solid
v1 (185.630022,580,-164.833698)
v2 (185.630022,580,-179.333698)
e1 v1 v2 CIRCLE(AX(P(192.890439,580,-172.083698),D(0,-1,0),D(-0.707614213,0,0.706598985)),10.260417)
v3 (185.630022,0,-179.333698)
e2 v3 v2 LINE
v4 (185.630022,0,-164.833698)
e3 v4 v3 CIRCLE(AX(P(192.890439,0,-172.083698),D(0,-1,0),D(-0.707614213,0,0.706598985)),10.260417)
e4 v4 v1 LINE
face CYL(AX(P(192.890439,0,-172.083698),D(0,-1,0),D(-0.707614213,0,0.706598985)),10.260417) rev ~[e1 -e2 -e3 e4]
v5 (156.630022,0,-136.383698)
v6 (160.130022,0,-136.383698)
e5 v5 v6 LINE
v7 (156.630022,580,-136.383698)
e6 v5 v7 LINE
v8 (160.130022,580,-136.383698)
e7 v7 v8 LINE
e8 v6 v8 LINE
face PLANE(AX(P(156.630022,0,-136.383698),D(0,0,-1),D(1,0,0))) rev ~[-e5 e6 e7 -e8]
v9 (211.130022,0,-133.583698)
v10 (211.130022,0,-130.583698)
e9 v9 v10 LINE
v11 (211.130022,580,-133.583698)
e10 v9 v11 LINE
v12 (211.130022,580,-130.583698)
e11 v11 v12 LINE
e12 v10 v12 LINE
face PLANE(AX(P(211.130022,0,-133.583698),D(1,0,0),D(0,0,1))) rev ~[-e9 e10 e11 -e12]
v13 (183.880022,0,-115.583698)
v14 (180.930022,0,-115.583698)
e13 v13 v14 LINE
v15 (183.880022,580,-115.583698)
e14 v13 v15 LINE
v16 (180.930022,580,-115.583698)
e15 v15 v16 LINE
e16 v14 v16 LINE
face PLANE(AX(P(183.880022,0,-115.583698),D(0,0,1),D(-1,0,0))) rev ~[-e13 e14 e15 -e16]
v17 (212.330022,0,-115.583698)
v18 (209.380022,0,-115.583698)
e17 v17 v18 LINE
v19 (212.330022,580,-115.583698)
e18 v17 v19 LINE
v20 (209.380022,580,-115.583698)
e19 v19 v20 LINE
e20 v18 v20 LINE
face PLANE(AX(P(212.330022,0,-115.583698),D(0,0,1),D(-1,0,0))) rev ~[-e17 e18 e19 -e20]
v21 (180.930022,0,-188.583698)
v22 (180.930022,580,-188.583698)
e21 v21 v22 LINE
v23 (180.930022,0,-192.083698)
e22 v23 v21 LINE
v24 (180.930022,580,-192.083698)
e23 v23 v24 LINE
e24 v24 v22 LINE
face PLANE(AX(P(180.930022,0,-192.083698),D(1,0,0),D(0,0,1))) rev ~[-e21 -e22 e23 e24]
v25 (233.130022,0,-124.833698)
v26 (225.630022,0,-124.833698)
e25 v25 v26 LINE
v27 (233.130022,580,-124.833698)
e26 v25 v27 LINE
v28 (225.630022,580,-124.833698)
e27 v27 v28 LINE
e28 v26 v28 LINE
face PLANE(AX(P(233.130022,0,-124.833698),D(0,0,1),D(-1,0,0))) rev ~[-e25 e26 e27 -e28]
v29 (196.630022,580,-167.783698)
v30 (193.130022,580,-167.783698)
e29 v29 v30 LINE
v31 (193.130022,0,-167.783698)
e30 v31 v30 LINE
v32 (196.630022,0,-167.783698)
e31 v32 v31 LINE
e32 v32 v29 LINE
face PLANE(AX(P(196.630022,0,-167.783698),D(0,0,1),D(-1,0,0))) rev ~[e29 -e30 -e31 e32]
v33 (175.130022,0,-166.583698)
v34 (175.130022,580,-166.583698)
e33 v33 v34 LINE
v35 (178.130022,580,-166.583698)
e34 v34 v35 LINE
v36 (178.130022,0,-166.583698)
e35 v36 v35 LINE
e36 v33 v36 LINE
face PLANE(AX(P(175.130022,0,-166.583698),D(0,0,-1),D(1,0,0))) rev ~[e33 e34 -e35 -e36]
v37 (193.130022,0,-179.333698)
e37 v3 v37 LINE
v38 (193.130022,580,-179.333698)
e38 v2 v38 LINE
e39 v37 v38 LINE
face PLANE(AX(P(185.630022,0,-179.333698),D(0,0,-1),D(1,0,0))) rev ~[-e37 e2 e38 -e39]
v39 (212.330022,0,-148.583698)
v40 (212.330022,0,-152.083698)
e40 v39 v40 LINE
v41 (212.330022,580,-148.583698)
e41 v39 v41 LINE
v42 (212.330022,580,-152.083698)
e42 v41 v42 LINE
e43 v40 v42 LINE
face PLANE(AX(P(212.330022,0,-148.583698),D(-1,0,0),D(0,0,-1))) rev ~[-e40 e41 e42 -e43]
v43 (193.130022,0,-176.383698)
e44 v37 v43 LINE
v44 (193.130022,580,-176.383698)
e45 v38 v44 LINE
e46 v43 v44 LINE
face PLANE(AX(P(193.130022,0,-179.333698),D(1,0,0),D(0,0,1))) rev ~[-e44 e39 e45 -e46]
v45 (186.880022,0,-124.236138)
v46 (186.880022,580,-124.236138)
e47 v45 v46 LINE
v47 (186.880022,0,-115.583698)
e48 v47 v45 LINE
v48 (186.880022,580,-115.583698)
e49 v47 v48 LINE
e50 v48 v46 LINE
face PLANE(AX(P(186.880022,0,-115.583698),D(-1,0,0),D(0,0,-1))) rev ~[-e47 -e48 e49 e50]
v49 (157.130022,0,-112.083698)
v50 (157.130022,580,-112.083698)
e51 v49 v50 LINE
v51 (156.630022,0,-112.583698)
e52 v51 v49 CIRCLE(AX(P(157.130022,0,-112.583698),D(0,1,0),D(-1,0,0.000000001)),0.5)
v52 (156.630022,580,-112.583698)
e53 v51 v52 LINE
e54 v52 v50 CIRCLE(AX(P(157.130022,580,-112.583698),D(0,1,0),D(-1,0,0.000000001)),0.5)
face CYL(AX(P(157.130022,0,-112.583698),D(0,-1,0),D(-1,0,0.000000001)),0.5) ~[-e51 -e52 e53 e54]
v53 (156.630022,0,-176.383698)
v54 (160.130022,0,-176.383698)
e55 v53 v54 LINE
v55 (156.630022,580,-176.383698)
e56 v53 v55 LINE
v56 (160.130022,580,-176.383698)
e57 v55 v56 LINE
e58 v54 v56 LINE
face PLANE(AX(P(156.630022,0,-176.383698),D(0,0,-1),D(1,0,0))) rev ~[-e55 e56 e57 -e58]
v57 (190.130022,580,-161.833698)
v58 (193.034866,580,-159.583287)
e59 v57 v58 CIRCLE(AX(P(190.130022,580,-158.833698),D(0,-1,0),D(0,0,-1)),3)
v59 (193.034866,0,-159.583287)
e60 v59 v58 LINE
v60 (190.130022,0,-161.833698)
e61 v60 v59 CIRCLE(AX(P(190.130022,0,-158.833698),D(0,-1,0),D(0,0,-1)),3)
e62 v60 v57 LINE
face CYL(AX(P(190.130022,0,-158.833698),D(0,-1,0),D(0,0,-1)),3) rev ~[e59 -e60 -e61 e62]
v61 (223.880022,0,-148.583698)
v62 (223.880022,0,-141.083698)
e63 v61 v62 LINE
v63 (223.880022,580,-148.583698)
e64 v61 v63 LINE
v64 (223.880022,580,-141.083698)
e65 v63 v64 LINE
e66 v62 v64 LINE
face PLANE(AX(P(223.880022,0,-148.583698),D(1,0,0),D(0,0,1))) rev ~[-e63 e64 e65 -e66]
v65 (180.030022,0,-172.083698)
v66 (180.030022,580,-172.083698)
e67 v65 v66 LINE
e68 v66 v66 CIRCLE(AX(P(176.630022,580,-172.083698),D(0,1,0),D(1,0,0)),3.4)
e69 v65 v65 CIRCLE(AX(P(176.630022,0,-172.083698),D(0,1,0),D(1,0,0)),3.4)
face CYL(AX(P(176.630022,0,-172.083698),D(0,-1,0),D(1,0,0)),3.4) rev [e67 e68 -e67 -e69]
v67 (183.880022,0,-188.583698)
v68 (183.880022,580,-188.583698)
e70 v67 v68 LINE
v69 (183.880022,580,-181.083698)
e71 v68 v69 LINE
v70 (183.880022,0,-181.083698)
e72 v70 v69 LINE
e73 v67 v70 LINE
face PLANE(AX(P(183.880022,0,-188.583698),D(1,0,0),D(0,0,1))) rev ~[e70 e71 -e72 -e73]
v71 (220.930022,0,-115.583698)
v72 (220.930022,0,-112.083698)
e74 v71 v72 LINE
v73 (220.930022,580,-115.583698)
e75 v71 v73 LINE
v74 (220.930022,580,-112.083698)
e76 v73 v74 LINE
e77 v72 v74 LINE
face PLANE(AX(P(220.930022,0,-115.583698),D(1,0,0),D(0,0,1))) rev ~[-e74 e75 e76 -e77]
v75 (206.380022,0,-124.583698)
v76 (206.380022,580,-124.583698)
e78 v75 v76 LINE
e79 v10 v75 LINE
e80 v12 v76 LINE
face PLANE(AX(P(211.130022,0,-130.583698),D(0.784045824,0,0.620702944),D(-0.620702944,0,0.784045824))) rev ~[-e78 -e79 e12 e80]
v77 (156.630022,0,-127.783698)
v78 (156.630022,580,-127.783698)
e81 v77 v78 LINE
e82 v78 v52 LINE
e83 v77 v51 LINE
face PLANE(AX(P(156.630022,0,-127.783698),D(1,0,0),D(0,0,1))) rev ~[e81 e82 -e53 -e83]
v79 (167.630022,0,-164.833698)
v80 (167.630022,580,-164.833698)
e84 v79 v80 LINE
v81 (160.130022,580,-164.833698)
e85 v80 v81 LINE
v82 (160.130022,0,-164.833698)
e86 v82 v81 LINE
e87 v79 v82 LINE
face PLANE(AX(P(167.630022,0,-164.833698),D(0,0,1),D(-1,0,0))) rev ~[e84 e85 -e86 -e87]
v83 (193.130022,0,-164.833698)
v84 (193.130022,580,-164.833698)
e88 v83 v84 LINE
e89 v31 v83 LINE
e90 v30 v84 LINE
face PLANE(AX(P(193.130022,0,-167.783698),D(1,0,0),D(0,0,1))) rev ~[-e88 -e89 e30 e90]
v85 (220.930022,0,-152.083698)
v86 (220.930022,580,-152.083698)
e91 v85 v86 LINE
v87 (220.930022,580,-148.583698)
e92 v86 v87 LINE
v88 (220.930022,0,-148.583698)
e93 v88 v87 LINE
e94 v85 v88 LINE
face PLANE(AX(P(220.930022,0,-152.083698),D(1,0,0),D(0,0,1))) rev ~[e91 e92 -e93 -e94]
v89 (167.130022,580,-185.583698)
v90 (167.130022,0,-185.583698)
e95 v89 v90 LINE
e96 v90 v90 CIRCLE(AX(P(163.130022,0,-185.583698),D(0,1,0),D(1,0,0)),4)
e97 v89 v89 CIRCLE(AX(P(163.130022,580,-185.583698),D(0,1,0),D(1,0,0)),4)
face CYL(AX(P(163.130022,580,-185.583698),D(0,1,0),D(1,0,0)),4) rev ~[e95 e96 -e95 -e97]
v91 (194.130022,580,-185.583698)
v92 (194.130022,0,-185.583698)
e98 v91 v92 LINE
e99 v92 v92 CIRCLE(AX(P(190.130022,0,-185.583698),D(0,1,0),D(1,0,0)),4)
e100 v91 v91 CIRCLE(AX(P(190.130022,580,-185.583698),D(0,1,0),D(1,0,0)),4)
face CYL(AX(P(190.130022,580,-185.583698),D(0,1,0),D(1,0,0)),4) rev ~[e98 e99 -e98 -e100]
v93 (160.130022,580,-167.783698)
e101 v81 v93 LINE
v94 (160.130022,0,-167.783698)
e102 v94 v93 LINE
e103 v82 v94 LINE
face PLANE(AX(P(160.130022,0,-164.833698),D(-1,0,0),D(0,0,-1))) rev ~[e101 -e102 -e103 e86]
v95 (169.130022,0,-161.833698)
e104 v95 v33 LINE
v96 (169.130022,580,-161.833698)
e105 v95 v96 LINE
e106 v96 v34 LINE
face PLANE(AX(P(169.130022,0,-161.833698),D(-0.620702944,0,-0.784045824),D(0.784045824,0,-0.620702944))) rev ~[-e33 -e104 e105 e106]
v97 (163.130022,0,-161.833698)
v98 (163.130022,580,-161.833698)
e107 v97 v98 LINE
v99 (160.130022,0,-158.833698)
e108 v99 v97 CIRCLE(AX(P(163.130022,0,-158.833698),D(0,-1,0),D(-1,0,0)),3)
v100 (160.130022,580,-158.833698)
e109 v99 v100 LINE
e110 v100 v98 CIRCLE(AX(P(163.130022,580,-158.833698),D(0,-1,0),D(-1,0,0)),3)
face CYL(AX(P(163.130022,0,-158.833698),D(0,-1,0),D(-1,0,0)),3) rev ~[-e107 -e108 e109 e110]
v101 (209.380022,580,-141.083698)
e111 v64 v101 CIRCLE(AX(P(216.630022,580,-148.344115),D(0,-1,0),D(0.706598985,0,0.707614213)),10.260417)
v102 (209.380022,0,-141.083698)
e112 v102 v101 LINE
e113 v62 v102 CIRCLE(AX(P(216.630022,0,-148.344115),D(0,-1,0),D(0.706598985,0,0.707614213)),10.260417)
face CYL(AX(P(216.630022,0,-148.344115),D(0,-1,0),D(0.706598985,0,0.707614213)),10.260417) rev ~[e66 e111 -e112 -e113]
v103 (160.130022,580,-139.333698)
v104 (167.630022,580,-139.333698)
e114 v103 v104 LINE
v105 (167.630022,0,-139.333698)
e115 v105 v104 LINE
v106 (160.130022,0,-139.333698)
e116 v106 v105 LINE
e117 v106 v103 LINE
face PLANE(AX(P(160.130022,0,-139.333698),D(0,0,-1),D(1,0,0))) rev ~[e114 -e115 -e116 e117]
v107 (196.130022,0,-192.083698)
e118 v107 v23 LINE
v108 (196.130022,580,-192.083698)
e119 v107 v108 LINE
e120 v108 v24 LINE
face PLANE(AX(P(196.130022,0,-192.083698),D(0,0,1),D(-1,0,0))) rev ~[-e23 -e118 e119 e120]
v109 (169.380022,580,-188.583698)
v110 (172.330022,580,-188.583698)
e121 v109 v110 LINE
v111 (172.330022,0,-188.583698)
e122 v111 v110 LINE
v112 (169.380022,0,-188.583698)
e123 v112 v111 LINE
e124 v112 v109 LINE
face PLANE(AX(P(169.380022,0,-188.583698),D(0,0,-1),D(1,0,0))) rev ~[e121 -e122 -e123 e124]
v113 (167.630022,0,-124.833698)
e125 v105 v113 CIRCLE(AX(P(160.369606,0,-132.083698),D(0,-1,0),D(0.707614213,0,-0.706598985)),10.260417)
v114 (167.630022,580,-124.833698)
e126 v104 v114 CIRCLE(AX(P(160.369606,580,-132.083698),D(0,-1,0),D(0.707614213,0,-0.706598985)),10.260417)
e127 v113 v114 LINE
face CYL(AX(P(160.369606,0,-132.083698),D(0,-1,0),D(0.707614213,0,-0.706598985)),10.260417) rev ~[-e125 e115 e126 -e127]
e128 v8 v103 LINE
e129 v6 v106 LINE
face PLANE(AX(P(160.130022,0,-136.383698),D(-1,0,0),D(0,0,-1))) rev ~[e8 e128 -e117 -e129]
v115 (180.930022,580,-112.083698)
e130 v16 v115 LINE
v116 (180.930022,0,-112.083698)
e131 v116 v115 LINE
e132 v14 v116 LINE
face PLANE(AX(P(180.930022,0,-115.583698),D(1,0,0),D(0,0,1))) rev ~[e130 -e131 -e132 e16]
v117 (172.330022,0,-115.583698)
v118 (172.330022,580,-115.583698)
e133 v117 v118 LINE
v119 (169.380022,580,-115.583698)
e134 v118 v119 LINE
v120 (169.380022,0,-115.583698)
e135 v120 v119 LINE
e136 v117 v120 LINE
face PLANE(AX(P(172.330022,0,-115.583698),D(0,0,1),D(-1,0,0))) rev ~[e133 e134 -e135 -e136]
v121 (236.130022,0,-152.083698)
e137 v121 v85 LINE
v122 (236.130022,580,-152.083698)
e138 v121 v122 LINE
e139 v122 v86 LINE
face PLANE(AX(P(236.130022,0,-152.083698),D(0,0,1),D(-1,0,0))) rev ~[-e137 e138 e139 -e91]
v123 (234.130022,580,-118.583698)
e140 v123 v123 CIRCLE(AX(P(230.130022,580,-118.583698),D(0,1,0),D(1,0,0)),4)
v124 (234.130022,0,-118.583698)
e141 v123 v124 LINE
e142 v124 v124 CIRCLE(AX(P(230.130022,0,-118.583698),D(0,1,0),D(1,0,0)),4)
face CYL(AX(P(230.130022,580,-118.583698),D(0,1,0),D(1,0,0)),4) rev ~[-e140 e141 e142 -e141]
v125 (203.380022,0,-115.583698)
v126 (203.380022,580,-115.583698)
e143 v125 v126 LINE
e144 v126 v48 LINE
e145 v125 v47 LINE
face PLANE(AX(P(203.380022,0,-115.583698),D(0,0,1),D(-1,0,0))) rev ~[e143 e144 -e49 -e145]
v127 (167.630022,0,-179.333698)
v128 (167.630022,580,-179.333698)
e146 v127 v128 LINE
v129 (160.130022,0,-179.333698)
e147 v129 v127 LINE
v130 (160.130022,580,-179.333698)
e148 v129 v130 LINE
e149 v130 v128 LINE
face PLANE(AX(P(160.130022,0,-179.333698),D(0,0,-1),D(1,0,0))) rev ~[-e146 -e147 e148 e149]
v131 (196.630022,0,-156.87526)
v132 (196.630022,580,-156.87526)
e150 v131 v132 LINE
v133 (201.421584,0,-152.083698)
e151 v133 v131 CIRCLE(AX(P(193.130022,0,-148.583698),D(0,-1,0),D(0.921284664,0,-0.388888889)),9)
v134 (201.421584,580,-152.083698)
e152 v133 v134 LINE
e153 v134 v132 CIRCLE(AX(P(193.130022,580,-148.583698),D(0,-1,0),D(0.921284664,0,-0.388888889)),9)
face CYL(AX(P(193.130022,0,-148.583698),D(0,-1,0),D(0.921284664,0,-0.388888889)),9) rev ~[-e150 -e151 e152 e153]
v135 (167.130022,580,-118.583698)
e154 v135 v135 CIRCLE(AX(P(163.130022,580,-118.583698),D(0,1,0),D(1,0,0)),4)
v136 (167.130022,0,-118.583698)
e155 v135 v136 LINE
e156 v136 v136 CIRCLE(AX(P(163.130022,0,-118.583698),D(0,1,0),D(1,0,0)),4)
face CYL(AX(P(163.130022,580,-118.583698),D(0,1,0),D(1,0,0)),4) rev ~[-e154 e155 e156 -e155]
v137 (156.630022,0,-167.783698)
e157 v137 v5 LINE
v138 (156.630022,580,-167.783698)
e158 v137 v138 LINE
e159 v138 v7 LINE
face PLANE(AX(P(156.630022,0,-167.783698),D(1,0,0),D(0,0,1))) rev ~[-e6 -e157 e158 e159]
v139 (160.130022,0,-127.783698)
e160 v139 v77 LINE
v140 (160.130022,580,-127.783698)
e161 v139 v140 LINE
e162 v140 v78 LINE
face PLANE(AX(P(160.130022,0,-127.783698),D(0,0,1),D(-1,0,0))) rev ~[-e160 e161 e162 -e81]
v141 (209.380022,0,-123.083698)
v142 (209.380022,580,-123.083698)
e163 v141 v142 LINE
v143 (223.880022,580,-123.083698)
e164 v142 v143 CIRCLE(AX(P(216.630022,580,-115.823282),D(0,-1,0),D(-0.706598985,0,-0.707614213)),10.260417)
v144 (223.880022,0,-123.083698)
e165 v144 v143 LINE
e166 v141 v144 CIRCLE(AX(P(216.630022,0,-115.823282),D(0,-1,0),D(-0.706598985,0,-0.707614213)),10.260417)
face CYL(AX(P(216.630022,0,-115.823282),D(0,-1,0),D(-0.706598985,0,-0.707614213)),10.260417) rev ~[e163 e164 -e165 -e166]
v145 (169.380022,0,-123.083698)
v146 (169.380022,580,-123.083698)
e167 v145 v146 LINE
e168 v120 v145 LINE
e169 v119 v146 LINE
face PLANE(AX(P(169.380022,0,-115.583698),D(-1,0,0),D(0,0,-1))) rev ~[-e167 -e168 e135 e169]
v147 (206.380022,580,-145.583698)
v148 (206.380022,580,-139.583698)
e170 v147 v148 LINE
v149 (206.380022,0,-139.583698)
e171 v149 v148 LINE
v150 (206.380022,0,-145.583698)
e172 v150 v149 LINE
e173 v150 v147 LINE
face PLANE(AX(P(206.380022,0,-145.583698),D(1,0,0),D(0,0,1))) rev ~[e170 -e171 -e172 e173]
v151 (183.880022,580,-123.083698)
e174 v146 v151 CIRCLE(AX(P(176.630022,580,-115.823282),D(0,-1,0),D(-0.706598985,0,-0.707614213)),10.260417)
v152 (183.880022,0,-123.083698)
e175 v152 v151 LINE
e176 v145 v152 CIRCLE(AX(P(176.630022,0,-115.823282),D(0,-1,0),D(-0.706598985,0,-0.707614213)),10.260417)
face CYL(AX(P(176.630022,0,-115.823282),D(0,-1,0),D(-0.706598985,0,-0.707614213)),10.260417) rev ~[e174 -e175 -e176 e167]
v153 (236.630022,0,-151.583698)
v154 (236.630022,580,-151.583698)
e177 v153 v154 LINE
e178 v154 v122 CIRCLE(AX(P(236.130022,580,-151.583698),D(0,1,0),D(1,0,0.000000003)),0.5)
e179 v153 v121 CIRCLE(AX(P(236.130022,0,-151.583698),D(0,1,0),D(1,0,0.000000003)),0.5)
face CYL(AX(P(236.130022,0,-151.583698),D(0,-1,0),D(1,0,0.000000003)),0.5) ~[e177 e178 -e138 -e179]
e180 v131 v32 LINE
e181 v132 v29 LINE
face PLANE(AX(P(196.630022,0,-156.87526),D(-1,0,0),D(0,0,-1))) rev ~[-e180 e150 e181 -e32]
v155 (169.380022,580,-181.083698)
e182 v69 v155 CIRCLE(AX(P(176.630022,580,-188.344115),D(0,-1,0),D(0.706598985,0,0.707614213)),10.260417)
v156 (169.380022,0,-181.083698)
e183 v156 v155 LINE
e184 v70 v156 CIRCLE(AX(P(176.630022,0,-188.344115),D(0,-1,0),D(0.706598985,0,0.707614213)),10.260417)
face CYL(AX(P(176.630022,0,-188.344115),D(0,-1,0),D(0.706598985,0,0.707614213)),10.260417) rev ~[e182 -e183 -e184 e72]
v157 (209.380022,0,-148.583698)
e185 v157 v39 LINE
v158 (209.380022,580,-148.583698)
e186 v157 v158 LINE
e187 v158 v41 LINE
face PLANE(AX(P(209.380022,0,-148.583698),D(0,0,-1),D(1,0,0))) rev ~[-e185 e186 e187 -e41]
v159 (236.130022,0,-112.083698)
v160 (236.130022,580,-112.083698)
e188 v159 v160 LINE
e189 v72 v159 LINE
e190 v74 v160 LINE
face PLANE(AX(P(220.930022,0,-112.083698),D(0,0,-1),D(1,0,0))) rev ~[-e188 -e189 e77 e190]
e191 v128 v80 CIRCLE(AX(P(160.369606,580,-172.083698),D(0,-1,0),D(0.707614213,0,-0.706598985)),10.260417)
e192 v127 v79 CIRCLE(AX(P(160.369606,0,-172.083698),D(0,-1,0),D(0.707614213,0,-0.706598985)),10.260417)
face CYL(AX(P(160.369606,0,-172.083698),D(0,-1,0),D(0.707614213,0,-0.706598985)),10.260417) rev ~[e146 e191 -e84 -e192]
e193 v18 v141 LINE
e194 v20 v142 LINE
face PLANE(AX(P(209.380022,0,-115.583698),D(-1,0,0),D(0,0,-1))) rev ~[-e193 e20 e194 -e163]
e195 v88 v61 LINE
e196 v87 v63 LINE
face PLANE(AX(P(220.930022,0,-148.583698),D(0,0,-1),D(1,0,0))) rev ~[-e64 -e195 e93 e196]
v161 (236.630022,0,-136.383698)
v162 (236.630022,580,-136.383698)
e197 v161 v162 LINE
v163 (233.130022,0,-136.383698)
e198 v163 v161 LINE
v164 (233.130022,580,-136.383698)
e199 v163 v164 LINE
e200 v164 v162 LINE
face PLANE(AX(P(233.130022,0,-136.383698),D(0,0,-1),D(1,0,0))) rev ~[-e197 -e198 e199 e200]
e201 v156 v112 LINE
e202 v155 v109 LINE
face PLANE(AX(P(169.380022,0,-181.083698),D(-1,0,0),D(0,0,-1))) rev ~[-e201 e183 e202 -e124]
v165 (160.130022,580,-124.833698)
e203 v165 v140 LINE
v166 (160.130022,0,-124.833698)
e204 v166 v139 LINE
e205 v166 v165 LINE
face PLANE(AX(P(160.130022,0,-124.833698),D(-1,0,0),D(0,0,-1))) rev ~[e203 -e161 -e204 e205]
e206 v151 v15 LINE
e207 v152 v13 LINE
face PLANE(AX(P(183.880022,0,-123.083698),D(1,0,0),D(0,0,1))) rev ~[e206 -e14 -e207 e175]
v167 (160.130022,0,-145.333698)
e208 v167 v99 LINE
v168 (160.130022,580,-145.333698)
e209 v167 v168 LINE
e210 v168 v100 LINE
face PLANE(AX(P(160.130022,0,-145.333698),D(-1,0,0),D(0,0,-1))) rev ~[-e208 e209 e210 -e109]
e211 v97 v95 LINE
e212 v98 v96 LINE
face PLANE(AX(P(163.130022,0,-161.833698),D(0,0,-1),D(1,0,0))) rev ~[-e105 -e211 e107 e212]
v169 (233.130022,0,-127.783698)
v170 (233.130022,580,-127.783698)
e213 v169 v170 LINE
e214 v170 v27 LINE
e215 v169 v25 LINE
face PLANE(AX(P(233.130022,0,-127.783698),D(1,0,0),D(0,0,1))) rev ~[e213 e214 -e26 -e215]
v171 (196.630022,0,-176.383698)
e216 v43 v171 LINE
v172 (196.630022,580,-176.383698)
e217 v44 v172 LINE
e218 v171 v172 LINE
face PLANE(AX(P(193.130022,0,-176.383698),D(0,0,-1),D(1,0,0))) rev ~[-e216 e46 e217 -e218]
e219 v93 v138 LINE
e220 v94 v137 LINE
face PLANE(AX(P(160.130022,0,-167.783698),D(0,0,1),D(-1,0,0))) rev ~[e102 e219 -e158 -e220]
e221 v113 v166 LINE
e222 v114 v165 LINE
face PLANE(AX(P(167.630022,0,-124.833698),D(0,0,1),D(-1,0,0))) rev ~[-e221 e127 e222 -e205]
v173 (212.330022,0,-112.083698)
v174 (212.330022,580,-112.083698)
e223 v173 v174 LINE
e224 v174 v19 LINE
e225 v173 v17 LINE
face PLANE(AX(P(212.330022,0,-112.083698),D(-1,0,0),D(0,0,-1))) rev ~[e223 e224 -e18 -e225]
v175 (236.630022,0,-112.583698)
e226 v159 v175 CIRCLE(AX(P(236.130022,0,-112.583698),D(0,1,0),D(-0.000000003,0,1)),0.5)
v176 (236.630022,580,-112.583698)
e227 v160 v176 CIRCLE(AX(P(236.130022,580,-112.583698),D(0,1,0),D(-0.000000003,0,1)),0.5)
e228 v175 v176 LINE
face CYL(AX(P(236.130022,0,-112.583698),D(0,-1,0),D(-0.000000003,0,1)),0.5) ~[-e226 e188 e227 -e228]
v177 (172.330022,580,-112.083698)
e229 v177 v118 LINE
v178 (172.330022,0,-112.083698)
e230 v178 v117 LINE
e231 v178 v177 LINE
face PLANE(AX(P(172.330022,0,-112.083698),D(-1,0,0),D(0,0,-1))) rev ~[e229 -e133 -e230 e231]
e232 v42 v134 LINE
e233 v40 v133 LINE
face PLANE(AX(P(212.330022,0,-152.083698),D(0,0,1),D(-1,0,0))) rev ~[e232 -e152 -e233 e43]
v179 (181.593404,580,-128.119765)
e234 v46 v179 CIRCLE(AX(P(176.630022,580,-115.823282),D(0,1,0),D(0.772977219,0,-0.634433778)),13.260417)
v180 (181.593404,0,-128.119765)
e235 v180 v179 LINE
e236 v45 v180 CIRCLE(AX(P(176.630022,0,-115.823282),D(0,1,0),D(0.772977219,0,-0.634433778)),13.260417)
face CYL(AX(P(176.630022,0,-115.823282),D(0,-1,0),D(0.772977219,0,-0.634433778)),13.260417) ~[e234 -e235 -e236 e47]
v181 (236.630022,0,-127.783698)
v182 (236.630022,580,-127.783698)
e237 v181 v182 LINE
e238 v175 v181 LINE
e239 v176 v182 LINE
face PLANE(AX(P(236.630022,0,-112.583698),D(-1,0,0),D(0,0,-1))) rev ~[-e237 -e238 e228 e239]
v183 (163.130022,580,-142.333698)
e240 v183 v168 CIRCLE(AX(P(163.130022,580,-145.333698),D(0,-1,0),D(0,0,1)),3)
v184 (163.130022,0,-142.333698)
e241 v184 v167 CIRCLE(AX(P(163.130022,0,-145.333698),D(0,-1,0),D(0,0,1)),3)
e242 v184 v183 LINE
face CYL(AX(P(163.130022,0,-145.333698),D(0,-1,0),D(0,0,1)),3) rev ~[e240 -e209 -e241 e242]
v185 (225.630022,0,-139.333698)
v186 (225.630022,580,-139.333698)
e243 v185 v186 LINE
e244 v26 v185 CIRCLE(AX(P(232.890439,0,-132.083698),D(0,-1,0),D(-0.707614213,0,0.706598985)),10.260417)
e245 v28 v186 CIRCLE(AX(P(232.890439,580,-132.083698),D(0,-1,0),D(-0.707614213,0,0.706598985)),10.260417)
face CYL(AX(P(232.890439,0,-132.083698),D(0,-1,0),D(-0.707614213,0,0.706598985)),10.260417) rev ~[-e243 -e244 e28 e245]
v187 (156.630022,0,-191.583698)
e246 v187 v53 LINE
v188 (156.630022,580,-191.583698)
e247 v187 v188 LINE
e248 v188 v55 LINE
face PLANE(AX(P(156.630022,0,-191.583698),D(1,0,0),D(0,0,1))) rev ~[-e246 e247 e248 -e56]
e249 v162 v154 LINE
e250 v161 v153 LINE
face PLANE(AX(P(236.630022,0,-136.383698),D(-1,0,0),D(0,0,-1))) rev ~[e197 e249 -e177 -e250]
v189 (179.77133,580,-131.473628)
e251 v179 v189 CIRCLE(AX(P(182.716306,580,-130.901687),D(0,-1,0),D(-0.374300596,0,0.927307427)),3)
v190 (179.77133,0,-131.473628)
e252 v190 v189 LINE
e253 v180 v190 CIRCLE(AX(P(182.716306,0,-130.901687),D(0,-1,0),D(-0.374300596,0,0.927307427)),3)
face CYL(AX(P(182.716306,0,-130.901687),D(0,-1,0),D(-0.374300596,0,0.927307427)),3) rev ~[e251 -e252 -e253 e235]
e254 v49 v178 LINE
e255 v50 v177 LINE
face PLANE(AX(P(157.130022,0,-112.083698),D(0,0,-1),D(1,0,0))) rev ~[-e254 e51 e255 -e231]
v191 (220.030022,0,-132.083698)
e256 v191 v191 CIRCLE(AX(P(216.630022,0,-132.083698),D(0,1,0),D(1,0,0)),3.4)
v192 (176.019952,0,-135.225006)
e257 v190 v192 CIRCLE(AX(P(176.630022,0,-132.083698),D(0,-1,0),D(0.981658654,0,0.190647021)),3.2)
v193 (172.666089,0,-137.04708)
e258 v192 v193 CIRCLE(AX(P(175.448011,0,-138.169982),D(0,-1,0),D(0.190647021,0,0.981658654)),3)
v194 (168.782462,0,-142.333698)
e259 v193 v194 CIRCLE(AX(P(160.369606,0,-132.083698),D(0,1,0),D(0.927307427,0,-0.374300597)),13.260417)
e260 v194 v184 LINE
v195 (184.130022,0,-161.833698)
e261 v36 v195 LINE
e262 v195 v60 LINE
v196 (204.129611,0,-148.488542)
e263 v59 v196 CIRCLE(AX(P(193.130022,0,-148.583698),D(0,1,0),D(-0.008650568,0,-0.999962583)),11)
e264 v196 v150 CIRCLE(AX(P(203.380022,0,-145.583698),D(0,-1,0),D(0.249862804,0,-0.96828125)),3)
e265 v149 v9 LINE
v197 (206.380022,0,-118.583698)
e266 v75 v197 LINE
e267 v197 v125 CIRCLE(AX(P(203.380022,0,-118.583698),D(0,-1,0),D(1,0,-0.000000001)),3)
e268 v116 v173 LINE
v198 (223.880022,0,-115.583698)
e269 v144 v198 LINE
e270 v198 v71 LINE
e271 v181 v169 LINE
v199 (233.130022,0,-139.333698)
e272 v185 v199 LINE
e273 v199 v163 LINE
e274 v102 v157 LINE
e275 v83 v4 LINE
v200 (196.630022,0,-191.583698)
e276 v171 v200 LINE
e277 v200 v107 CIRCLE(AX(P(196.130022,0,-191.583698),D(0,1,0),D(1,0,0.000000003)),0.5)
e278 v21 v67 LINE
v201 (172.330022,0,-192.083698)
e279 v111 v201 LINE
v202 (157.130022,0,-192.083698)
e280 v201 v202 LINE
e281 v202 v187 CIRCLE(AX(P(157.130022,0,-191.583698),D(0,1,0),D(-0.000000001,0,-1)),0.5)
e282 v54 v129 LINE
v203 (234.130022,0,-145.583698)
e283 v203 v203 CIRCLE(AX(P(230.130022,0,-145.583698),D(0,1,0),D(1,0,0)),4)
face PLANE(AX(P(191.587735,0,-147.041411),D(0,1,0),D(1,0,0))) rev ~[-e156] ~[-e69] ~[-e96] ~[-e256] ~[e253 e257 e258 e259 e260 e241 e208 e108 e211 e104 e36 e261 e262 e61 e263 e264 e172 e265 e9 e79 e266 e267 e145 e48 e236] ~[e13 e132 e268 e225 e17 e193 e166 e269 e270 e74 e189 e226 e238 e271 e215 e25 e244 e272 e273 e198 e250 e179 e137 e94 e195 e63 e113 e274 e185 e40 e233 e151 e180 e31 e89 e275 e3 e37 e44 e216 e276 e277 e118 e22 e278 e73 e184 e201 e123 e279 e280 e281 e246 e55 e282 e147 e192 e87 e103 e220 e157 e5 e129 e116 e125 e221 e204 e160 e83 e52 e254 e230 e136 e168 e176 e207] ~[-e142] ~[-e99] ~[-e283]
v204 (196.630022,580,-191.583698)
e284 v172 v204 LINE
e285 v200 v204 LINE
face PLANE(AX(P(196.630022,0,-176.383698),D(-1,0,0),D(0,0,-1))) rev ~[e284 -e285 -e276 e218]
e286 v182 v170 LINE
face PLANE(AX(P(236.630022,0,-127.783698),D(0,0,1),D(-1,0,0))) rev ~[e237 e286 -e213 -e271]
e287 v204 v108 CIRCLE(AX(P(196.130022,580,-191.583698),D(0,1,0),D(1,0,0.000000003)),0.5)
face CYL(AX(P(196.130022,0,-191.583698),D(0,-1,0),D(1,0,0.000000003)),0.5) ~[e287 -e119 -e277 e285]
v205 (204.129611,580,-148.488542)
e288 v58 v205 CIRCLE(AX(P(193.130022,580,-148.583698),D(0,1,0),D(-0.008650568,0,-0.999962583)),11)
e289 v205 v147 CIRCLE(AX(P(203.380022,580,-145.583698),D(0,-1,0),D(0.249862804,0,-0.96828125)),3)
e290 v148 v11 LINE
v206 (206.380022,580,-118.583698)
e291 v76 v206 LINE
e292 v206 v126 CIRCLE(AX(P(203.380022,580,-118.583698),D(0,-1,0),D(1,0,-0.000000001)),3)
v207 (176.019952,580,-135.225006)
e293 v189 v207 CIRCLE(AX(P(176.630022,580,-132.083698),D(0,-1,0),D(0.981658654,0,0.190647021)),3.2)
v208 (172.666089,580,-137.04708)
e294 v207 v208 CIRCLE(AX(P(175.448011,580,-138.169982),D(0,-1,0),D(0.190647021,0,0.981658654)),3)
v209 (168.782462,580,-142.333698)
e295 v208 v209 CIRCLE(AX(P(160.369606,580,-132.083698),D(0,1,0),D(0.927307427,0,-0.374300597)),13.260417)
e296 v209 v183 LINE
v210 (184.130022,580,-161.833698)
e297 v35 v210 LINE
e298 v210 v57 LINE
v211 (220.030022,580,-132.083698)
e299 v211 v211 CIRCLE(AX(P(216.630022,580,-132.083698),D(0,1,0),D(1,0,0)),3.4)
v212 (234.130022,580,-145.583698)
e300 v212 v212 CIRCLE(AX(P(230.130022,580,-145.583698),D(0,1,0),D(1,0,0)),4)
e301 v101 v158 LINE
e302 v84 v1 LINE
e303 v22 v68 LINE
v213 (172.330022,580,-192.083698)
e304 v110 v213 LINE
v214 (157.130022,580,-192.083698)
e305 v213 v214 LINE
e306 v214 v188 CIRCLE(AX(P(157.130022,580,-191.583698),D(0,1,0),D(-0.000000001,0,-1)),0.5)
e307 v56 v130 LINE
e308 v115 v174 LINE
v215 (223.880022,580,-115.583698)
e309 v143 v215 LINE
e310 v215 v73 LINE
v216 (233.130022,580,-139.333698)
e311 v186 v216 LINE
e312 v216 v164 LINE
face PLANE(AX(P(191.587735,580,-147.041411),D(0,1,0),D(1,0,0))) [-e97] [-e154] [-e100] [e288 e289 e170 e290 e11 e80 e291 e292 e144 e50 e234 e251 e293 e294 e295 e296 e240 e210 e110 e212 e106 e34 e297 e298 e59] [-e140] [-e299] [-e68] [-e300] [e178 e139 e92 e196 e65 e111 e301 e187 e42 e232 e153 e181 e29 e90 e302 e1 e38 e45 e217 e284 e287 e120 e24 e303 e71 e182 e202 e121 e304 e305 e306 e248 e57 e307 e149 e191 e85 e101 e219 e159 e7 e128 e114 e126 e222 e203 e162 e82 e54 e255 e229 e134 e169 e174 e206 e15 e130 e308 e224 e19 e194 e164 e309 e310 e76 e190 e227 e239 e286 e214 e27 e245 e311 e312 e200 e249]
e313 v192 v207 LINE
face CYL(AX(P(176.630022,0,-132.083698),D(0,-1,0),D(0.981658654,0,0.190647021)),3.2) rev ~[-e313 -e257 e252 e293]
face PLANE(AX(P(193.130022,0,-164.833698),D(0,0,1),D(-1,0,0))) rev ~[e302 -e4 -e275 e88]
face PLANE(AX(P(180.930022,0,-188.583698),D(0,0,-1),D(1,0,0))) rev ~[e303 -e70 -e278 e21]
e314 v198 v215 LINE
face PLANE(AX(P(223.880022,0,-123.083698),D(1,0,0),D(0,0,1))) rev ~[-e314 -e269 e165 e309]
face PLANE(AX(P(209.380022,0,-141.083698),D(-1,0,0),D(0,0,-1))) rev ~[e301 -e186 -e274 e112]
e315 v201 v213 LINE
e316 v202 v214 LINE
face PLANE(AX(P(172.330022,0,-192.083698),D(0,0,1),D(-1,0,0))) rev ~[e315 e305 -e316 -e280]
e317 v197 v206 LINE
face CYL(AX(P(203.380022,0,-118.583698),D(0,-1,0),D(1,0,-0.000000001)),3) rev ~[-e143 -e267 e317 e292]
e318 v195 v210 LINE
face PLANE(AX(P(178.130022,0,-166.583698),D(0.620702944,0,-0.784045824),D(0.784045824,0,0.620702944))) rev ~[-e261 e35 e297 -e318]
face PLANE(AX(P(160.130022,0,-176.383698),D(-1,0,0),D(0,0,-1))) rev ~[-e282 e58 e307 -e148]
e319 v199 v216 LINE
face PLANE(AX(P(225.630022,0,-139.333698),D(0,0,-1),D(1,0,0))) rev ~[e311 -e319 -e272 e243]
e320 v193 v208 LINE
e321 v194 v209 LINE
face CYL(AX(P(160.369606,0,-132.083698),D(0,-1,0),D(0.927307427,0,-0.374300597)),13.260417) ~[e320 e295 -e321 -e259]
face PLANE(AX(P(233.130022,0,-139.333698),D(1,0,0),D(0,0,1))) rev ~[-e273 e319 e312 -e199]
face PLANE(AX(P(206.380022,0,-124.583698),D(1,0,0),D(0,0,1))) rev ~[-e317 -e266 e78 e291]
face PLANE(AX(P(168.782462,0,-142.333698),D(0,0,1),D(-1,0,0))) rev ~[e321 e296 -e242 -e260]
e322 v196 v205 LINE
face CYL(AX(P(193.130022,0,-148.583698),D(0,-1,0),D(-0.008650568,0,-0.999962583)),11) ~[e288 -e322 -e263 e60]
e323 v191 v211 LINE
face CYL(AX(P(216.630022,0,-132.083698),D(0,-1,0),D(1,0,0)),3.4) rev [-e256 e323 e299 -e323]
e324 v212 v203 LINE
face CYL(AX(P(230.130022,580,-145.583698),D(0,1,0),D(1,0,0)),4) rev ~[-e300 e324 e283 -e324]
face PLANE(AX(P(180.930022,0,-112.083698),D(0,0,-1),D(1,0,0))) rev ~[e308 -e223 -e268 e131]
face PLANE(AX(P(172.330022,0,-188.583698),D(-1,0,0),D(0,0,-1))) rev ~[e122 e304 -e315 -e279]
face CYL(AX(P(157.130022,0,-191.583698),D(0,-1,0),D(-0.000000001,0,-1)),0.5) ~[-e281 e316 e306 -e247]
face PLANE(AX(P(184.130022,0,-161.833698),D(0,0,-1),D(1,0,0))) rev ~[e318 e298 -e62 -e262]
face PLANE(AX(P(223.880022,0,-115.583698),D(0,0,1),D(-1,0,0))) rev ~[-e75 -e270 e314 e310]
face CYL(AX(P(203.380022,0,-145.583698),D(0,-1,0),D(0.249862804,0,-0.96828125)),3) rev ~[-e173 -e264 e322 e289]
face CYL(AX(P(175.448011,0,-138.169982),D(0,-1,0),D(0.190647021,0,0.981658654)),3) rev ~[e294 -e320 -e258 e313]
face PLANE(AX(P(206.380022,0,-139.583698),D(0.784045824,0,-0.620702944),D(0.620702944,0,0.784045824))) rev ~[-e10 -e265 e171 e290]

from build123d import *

# Parameters (mm, degrees)
SKETCH_2_R          = 4
SKETCH_2_R_2        = 3.4
EXTRUDE_1_DEPTH     = 580
SKETCH_3_R          = 5.341354258
SKETCH_3_R_2        = 5.383492222
SKETCH_3_R_3        = 4.933832051
SKETCH_3_R_4        = 5.418030405
SKETCH_3_R_5        = 5.574298651
EXTRUDE_2_DEPTH     = 580
SKETCH_4_R          = 4
CUT_EXTRUDE_1_DEPTH = 581


with BuildPart() as part:
    # 草图2 → 凸台-拉伸1 (new body)
    with BuildSketch(Plane(origin=(0, 0, 0), x_dir=(1, 0, 0), z_dir=(0, 1, 0))):
        with BuildLine():
            Line((212.330022346, 152.083698324), (201.421584322, 152.083698324))
            ThreePointArc((201.421584322, 152.083698324), (186.766061316, 142.219737293), (196.630022346, 156.8752603))
            Line((196.630022346, 156.8752603), (196.630022346, 167.783698324))
            Line((196.630022346, 167.783698324), (193.130022346, 167.783698324))
            Line((193.130022346, 167.783698324), (193.130022346, 164.833698324))
            Line((193.130022346, 164.833698324), (185.630022346, 164.833698324))
            ThreePointArc((185.630022346, 164.833698324), (182.630022346, 172.083698324), (185.630022346, 179.333698324))
            Line((185.630022346, 179.333698324), (193.130022346, 179.333698324))
            Line((193.130022346, 179.333698324), (193.130022346, 176.383698324))
            Line((193.130022346, 176.383698324), (196.630022346, 176.383698324))
            Line((196.630022346, 176.383698324), (196.630022346, 191.583698324))
            ThreePointArc((196.630022346, 191.583698324), (196.483575737, 191.937251715), (196.130022346, 192.083698324))
            Line((196.130022346, 192.083698324), (180.930022346, 192.083698324))
            Line((180.930022346, 192.083698324), (180.930022346, 188.583698324))
            Line((180.930022346, 188.583698324), (183.880022346, 188.583698324))
            Line((183.880022346, 188.583698324), (183.880022346, 181.083698324))
            ThreePointArc((183.880022346, 181.083698324), (176.630022346, 178.083698324), (169.380022346, 181.083698324))
            Line((169.380022346, 181.083698324), (169.380022346, 188.583698324))
            Line((169.380022346, 188.583698324), (172.330022346, 188.583698324))
            Line((172.330022346, 188.583698324), (172.330022346, 192.083698324))
            Line((172.330022346, 192.083698324), (157.130022346, 192.083698324))
            ThreePointArc((157.130022346, 192.083698324), (156.776468956, 191.937251715), (156.630022346, 191.583698324))
            Line((156.630022346, 191.583698324), (156.630022346, 176.383698324))
            Line((156.630022346, 176.383698324), (160.130022346, 176.383698324))
            Line((160.130022346, 176.383698324), (160.130022346, 179.333698324))
            Line((160.130022346, 179.333698324), (167.630022346, 179.333698324))
            ThreePointArc((167.630022346, 179.333698324), (170.630022346, 172.083698324), (167.630022346, 164.833698324))
            Line((167.630022346, 164.833698324), (160.130022346, 164.833698324))
            Line((160.130022346, 164.833698324), (160.130022346, 167.783698324))
            Line((160.130022346, 167.783698324), (156.630022346, 167.783698324))
            Line((156.630022346, 167.783698324), (156.630022346, 136.383698324))
            Line((156.630022346, 136.383698324), (160.130022346, 136.383698324))
            Line((160.130022346, 136.383698324), (160.130022346, 139.333698324))
            Line((160.130022346, 139.333698324), (167.630022346, 139.333698324))
            ThreePointArc((167.630022346, 139.333698324), (170.630022346, 132.083698324), (167.630022346, 124.833698324))
            Line((167.630022346, 124.833698324), (160.130022346, 124.833698324))
            Line((160.130022346, 124.833698324), (160.130022346, 127.783698324))
            Line((160.130022346, 127.783698324), (156.630022346, 127.783698324))
            Line((156.630022346, 127.783698324), (156.630022346, 112.583698324))
            ThreePointArc((156.630022346, 112.583698324), (156.776468956, 112.230144933), (157.130022346, 112.083698324))
            Line((157.130022346, 112.083698324), (172.330022346, 112.083698324))
            Line((172.330022346, 112.083698324), (172.330022346, 115.583698324))
            Line((172.330022346, 115.583698324), (169.380022346, 115.583698324))
            Line((169.380022346, 115.583698324), (169.380022346, 123.083698324))
            ThreePointArc((169.380022346, 123.083698324), (176.630022346, 126.083698324), (183.880022346, 123.083698324))
            Line((183.880022346, 123.083698324), (183.880022346, 115.583698324))
            Line((183.880022346, 115.583698324), (180.930022346, 115.583698324))
            Line((180.930022346, 115.583698324), (180.930022346, 112.083698324))
            Line((180.930022346, 112.083698324), (196.130022346, 112.083698324))
            Line((196.130022346, 112.083698324), (212.330022346, 112.083698324))
            Line((212.330022346, 112.083698324), (212.330022346, 115.583698324))
            Line((212.330022346, 115.583698324), (209.380022346, 115.583698324))
            Line((209.380022346, 115.583698324), (209.380022346, 123.083698324))
            ThreePointArc((209.380022346, 123.083698324), (216.630022346, 126.083698324), (223.880022346, 123.083698324))
            Line((223.880022346, 123.083698324), (223.880022346, 115.583698324))
            Line((223.880022346, 115.583698324), (220.930022346, 115.583698324))
            Line((220.930022346, 115.583698324), (220.930022346, 112.083698324))
            Line((220.930022346, 112.083698324), (236.130022346, 112.083698324))
            ThreePointArc((236.130022346, 112.083698324), (236.483575737, 112.230144933), (236.630022346, 112.583698324))
            Line((236.630022346, 112.583698324), (236.630022346, 127.783698324))
            Line((236.630022346, 127.783698324), (233.130022346, 127.783698324))
            Line((233.130022346, 127.783698324), (233.130022346, 124.833698324))
            Line((233.130022346, 124.833698324), (225.630022346, 124.833698324))
            ThreePointArc((225.630022346, 124.833698324), (222.630022346, 132.083698324), (225.630022346, 139.333698324))
            Line((225.630022346, 139.333698324), (233.130022346, 139.333698324))
            Line((233.130022346, 139.333698324), (233.130022346, 136.383698324))
            Line((233.130022346, 136.383698324), (236.630022346, 136.383698324))
            Line((236.630022346, 136.383698324), (236.630022346, 151.583698324))
            ThreePointArc((236.630022346, 151.583698324), (236.483575737, 151.937251715), (236.130022346, 152.083698324))
            Line((236.130022346, 152.083698324), (220.930022346, 152.083698324))
            Line((220.930022346, 152.083698324), (220.930022346, 148.583698324))
            Line((220.930022346, 148.583698324), (223.880022346, 148.583698324))
            Line((223.880022346, 148.583698324), (223.880022346, 141.083698324))
            ThreePointArc((223.880022346, 141.083698324), (216.630022346, 138.083698324), (209.380022346, 141.083698324))
            Line((209.380022346, 141.083698324), (209.380022346, 148.583698324))
            Line((209.380022346, 148.583698324), (212.330022346, 148.583698324))
            Line((212.330022346, 148.583698324), (212.330022346, 152.083698324))
        make_face()
        with Locations((162.630022346, 118.083698324)):
            Circle(SKETCH_2_R, mode=Mode.SUBTRACT)
        with BuildLine():
            ThreePointArc((206.380022346, 118.583698324), (205.50134269, 116.46237798), (203.380022346, 115.583698324))
            Line((203.380022346, 115.583698324), (186.880022346, 115.583698324))
            Line((186.880022346, 115.583698324), (186.880022346, 124.236137901))
            ThreePointArc((186.880022346, 124.236137901), (184.480651994, 126.510014755), (181.593404213, 128.119764513))
            ThreePointArc((181.593404213, 128.119764513), (180.080209042, 129.469558022), (179.77133004, 131.473627856))
            ThreePointArc((179.77133004, 131.473627856), (174.367280647, 129.820956624), (176.019951879, 135.225006017))
            ThreePointArc((176.019951879, 135.225006017), (174.015882044, 135.53388502), (172.666088535, 137.047080191))
            ThreePointArc((172.666088535, 137.047080191), (171.056338777, 139.934327972), (168.782461923, 142.333698324))
            Line((168.782461923, 142.333698324), (163.130022346, 142.333698324))
            ThreePointArc((163.130022346, 142.333698324), (161.008702003, 143.21237798), (160.130022346, 145.333698324))
            Line((160.130022346, 145.333698324), (160.130022346, 158.833698324))
            ThreePointArc((160.130022346, 158.833698324), (161.008702003, 160.955018668), (163.130022346, 161.833698324))
            Line((163.130022346, 161.833698324), (169.130022346, 161.833698324))
            Line((169.130022346, 161.833698324), (175.130022346, 166.583698324))
            Line((175.130022346, 166.583698324), (178.130022346, 166.583698324))
            Line((178.130022346, 166.583698324), (184.130022346, 161.833698324))
            Line((184.130022346, 161.833698324), (190.130022346, 161.833698324))
            ThreePointArc((190.130022346, 161.833698324), (191.967307675, 161.205276411), (193.034866096, 159.583286739))
            ThreePointArc((193.034866096, 159.583286739), (185.351847753, 140.805523731), (204.129610761, 148.488542073))
            ThreePointArc((204.129610761, 148.488542073), (205.751600433, 147.420983653), (206.380022346, 145.583698324))
            Line((206.380022346, 145.583698324), (206.380022346, 139.583698324))
            Line((206.380022346, 139.583698324), (211.130022346, 133.583698324))
            Line((211.130022346, 133.583698324), (211.130022346, 130.583698324))
            Line((211.130022346, 130.583698324), (206.380022346, 124.583698324))
            Line((206.380022346, 124.583698324), (206.380022346, 118.583698324))
        make_face(mode=Mode.SUBTRACT)
        with Locations((230.630022346, 118.083698324)):
            Circle(SKETCH_2_R, mode=Mode.SUBTRACT)
        with Locations((216.630022346, 132.083698324)):
            Circle(SKETCH_2_R_2, mode=Mode.SUBTRACT)
        with Locations((230.130022346, 145.583698324)):
            Circle(SKETCH_2_R, mode=Mode.SUBTRACT)
        with Locations((176.630022346, 172.083698324)):
            Circle(SKETCH_2_R_2, mode=Mode.SUBTRACT)
        with Locations((163.130022346, 186.083698324)):
            Circle(SKETCH_2_R, mode=Mode.SUBTRACT)
        with Locations((190.130022346, 185.583698324)):
            Circle(SKETCH_2_R, mode=Mode.SUBTRACT)
    extrude(amount=EXTRUDE_1_DEPTH)

    # 草图3 → 凸台-拉伸2 (add)
    with BuildSketch(Plane(origin=(0, 580, 0), x_dir=(1, 0, 0), z_dir=(0, 1, 0))):
        with Locations((163.130022346, 186.083698324)):
            Circle(SKETCH_3_R)
        with Locations((190.130022346, 185.583698324)):
            Circle(SKETCH_3_R_2)
        with Locations((162.630022346, 118.083698324)):
            Circle(SKETCH_3_R_3)
        with Locations((230.630022346, 118.083698324)):
            Circle(SKETCH_3_R_4)
        with Locations((230.130022346, 145.583698324)):
            Circle(SKETCH_3_R_5)
    extrude(amount=-EXTRUDE_2_DEPTH)

    # 草图4 → 切除-拉伸1 (cut, through all)
    with BuildSketch(Plane(origin=(0, 580, 0), x_dir=(1, 0, 0), z_dir=(0, 1, 0))):
        with Locations((163.130022346, 185.583698324)):
            Circle(SKETCH_4_R)
        with Locations((163.130022346, 118.583698324)):
            Circle(SKETCH_4_R)
        with Locations((230.130022346, 118.583698324)):
            Circle(SKETCH_4_R)
        with Locations((230.130022346, 145.583698324)):
            Circle(SKETCH_4_R)
        with Locations((190.130022346, 185.583698324)):
            Circle(SKETCH_4_R)
    extrude(amount=-CUT_EXTRUDE_1_DEPTH, mode=Mode.SUBTRACT)


solid = part.part
